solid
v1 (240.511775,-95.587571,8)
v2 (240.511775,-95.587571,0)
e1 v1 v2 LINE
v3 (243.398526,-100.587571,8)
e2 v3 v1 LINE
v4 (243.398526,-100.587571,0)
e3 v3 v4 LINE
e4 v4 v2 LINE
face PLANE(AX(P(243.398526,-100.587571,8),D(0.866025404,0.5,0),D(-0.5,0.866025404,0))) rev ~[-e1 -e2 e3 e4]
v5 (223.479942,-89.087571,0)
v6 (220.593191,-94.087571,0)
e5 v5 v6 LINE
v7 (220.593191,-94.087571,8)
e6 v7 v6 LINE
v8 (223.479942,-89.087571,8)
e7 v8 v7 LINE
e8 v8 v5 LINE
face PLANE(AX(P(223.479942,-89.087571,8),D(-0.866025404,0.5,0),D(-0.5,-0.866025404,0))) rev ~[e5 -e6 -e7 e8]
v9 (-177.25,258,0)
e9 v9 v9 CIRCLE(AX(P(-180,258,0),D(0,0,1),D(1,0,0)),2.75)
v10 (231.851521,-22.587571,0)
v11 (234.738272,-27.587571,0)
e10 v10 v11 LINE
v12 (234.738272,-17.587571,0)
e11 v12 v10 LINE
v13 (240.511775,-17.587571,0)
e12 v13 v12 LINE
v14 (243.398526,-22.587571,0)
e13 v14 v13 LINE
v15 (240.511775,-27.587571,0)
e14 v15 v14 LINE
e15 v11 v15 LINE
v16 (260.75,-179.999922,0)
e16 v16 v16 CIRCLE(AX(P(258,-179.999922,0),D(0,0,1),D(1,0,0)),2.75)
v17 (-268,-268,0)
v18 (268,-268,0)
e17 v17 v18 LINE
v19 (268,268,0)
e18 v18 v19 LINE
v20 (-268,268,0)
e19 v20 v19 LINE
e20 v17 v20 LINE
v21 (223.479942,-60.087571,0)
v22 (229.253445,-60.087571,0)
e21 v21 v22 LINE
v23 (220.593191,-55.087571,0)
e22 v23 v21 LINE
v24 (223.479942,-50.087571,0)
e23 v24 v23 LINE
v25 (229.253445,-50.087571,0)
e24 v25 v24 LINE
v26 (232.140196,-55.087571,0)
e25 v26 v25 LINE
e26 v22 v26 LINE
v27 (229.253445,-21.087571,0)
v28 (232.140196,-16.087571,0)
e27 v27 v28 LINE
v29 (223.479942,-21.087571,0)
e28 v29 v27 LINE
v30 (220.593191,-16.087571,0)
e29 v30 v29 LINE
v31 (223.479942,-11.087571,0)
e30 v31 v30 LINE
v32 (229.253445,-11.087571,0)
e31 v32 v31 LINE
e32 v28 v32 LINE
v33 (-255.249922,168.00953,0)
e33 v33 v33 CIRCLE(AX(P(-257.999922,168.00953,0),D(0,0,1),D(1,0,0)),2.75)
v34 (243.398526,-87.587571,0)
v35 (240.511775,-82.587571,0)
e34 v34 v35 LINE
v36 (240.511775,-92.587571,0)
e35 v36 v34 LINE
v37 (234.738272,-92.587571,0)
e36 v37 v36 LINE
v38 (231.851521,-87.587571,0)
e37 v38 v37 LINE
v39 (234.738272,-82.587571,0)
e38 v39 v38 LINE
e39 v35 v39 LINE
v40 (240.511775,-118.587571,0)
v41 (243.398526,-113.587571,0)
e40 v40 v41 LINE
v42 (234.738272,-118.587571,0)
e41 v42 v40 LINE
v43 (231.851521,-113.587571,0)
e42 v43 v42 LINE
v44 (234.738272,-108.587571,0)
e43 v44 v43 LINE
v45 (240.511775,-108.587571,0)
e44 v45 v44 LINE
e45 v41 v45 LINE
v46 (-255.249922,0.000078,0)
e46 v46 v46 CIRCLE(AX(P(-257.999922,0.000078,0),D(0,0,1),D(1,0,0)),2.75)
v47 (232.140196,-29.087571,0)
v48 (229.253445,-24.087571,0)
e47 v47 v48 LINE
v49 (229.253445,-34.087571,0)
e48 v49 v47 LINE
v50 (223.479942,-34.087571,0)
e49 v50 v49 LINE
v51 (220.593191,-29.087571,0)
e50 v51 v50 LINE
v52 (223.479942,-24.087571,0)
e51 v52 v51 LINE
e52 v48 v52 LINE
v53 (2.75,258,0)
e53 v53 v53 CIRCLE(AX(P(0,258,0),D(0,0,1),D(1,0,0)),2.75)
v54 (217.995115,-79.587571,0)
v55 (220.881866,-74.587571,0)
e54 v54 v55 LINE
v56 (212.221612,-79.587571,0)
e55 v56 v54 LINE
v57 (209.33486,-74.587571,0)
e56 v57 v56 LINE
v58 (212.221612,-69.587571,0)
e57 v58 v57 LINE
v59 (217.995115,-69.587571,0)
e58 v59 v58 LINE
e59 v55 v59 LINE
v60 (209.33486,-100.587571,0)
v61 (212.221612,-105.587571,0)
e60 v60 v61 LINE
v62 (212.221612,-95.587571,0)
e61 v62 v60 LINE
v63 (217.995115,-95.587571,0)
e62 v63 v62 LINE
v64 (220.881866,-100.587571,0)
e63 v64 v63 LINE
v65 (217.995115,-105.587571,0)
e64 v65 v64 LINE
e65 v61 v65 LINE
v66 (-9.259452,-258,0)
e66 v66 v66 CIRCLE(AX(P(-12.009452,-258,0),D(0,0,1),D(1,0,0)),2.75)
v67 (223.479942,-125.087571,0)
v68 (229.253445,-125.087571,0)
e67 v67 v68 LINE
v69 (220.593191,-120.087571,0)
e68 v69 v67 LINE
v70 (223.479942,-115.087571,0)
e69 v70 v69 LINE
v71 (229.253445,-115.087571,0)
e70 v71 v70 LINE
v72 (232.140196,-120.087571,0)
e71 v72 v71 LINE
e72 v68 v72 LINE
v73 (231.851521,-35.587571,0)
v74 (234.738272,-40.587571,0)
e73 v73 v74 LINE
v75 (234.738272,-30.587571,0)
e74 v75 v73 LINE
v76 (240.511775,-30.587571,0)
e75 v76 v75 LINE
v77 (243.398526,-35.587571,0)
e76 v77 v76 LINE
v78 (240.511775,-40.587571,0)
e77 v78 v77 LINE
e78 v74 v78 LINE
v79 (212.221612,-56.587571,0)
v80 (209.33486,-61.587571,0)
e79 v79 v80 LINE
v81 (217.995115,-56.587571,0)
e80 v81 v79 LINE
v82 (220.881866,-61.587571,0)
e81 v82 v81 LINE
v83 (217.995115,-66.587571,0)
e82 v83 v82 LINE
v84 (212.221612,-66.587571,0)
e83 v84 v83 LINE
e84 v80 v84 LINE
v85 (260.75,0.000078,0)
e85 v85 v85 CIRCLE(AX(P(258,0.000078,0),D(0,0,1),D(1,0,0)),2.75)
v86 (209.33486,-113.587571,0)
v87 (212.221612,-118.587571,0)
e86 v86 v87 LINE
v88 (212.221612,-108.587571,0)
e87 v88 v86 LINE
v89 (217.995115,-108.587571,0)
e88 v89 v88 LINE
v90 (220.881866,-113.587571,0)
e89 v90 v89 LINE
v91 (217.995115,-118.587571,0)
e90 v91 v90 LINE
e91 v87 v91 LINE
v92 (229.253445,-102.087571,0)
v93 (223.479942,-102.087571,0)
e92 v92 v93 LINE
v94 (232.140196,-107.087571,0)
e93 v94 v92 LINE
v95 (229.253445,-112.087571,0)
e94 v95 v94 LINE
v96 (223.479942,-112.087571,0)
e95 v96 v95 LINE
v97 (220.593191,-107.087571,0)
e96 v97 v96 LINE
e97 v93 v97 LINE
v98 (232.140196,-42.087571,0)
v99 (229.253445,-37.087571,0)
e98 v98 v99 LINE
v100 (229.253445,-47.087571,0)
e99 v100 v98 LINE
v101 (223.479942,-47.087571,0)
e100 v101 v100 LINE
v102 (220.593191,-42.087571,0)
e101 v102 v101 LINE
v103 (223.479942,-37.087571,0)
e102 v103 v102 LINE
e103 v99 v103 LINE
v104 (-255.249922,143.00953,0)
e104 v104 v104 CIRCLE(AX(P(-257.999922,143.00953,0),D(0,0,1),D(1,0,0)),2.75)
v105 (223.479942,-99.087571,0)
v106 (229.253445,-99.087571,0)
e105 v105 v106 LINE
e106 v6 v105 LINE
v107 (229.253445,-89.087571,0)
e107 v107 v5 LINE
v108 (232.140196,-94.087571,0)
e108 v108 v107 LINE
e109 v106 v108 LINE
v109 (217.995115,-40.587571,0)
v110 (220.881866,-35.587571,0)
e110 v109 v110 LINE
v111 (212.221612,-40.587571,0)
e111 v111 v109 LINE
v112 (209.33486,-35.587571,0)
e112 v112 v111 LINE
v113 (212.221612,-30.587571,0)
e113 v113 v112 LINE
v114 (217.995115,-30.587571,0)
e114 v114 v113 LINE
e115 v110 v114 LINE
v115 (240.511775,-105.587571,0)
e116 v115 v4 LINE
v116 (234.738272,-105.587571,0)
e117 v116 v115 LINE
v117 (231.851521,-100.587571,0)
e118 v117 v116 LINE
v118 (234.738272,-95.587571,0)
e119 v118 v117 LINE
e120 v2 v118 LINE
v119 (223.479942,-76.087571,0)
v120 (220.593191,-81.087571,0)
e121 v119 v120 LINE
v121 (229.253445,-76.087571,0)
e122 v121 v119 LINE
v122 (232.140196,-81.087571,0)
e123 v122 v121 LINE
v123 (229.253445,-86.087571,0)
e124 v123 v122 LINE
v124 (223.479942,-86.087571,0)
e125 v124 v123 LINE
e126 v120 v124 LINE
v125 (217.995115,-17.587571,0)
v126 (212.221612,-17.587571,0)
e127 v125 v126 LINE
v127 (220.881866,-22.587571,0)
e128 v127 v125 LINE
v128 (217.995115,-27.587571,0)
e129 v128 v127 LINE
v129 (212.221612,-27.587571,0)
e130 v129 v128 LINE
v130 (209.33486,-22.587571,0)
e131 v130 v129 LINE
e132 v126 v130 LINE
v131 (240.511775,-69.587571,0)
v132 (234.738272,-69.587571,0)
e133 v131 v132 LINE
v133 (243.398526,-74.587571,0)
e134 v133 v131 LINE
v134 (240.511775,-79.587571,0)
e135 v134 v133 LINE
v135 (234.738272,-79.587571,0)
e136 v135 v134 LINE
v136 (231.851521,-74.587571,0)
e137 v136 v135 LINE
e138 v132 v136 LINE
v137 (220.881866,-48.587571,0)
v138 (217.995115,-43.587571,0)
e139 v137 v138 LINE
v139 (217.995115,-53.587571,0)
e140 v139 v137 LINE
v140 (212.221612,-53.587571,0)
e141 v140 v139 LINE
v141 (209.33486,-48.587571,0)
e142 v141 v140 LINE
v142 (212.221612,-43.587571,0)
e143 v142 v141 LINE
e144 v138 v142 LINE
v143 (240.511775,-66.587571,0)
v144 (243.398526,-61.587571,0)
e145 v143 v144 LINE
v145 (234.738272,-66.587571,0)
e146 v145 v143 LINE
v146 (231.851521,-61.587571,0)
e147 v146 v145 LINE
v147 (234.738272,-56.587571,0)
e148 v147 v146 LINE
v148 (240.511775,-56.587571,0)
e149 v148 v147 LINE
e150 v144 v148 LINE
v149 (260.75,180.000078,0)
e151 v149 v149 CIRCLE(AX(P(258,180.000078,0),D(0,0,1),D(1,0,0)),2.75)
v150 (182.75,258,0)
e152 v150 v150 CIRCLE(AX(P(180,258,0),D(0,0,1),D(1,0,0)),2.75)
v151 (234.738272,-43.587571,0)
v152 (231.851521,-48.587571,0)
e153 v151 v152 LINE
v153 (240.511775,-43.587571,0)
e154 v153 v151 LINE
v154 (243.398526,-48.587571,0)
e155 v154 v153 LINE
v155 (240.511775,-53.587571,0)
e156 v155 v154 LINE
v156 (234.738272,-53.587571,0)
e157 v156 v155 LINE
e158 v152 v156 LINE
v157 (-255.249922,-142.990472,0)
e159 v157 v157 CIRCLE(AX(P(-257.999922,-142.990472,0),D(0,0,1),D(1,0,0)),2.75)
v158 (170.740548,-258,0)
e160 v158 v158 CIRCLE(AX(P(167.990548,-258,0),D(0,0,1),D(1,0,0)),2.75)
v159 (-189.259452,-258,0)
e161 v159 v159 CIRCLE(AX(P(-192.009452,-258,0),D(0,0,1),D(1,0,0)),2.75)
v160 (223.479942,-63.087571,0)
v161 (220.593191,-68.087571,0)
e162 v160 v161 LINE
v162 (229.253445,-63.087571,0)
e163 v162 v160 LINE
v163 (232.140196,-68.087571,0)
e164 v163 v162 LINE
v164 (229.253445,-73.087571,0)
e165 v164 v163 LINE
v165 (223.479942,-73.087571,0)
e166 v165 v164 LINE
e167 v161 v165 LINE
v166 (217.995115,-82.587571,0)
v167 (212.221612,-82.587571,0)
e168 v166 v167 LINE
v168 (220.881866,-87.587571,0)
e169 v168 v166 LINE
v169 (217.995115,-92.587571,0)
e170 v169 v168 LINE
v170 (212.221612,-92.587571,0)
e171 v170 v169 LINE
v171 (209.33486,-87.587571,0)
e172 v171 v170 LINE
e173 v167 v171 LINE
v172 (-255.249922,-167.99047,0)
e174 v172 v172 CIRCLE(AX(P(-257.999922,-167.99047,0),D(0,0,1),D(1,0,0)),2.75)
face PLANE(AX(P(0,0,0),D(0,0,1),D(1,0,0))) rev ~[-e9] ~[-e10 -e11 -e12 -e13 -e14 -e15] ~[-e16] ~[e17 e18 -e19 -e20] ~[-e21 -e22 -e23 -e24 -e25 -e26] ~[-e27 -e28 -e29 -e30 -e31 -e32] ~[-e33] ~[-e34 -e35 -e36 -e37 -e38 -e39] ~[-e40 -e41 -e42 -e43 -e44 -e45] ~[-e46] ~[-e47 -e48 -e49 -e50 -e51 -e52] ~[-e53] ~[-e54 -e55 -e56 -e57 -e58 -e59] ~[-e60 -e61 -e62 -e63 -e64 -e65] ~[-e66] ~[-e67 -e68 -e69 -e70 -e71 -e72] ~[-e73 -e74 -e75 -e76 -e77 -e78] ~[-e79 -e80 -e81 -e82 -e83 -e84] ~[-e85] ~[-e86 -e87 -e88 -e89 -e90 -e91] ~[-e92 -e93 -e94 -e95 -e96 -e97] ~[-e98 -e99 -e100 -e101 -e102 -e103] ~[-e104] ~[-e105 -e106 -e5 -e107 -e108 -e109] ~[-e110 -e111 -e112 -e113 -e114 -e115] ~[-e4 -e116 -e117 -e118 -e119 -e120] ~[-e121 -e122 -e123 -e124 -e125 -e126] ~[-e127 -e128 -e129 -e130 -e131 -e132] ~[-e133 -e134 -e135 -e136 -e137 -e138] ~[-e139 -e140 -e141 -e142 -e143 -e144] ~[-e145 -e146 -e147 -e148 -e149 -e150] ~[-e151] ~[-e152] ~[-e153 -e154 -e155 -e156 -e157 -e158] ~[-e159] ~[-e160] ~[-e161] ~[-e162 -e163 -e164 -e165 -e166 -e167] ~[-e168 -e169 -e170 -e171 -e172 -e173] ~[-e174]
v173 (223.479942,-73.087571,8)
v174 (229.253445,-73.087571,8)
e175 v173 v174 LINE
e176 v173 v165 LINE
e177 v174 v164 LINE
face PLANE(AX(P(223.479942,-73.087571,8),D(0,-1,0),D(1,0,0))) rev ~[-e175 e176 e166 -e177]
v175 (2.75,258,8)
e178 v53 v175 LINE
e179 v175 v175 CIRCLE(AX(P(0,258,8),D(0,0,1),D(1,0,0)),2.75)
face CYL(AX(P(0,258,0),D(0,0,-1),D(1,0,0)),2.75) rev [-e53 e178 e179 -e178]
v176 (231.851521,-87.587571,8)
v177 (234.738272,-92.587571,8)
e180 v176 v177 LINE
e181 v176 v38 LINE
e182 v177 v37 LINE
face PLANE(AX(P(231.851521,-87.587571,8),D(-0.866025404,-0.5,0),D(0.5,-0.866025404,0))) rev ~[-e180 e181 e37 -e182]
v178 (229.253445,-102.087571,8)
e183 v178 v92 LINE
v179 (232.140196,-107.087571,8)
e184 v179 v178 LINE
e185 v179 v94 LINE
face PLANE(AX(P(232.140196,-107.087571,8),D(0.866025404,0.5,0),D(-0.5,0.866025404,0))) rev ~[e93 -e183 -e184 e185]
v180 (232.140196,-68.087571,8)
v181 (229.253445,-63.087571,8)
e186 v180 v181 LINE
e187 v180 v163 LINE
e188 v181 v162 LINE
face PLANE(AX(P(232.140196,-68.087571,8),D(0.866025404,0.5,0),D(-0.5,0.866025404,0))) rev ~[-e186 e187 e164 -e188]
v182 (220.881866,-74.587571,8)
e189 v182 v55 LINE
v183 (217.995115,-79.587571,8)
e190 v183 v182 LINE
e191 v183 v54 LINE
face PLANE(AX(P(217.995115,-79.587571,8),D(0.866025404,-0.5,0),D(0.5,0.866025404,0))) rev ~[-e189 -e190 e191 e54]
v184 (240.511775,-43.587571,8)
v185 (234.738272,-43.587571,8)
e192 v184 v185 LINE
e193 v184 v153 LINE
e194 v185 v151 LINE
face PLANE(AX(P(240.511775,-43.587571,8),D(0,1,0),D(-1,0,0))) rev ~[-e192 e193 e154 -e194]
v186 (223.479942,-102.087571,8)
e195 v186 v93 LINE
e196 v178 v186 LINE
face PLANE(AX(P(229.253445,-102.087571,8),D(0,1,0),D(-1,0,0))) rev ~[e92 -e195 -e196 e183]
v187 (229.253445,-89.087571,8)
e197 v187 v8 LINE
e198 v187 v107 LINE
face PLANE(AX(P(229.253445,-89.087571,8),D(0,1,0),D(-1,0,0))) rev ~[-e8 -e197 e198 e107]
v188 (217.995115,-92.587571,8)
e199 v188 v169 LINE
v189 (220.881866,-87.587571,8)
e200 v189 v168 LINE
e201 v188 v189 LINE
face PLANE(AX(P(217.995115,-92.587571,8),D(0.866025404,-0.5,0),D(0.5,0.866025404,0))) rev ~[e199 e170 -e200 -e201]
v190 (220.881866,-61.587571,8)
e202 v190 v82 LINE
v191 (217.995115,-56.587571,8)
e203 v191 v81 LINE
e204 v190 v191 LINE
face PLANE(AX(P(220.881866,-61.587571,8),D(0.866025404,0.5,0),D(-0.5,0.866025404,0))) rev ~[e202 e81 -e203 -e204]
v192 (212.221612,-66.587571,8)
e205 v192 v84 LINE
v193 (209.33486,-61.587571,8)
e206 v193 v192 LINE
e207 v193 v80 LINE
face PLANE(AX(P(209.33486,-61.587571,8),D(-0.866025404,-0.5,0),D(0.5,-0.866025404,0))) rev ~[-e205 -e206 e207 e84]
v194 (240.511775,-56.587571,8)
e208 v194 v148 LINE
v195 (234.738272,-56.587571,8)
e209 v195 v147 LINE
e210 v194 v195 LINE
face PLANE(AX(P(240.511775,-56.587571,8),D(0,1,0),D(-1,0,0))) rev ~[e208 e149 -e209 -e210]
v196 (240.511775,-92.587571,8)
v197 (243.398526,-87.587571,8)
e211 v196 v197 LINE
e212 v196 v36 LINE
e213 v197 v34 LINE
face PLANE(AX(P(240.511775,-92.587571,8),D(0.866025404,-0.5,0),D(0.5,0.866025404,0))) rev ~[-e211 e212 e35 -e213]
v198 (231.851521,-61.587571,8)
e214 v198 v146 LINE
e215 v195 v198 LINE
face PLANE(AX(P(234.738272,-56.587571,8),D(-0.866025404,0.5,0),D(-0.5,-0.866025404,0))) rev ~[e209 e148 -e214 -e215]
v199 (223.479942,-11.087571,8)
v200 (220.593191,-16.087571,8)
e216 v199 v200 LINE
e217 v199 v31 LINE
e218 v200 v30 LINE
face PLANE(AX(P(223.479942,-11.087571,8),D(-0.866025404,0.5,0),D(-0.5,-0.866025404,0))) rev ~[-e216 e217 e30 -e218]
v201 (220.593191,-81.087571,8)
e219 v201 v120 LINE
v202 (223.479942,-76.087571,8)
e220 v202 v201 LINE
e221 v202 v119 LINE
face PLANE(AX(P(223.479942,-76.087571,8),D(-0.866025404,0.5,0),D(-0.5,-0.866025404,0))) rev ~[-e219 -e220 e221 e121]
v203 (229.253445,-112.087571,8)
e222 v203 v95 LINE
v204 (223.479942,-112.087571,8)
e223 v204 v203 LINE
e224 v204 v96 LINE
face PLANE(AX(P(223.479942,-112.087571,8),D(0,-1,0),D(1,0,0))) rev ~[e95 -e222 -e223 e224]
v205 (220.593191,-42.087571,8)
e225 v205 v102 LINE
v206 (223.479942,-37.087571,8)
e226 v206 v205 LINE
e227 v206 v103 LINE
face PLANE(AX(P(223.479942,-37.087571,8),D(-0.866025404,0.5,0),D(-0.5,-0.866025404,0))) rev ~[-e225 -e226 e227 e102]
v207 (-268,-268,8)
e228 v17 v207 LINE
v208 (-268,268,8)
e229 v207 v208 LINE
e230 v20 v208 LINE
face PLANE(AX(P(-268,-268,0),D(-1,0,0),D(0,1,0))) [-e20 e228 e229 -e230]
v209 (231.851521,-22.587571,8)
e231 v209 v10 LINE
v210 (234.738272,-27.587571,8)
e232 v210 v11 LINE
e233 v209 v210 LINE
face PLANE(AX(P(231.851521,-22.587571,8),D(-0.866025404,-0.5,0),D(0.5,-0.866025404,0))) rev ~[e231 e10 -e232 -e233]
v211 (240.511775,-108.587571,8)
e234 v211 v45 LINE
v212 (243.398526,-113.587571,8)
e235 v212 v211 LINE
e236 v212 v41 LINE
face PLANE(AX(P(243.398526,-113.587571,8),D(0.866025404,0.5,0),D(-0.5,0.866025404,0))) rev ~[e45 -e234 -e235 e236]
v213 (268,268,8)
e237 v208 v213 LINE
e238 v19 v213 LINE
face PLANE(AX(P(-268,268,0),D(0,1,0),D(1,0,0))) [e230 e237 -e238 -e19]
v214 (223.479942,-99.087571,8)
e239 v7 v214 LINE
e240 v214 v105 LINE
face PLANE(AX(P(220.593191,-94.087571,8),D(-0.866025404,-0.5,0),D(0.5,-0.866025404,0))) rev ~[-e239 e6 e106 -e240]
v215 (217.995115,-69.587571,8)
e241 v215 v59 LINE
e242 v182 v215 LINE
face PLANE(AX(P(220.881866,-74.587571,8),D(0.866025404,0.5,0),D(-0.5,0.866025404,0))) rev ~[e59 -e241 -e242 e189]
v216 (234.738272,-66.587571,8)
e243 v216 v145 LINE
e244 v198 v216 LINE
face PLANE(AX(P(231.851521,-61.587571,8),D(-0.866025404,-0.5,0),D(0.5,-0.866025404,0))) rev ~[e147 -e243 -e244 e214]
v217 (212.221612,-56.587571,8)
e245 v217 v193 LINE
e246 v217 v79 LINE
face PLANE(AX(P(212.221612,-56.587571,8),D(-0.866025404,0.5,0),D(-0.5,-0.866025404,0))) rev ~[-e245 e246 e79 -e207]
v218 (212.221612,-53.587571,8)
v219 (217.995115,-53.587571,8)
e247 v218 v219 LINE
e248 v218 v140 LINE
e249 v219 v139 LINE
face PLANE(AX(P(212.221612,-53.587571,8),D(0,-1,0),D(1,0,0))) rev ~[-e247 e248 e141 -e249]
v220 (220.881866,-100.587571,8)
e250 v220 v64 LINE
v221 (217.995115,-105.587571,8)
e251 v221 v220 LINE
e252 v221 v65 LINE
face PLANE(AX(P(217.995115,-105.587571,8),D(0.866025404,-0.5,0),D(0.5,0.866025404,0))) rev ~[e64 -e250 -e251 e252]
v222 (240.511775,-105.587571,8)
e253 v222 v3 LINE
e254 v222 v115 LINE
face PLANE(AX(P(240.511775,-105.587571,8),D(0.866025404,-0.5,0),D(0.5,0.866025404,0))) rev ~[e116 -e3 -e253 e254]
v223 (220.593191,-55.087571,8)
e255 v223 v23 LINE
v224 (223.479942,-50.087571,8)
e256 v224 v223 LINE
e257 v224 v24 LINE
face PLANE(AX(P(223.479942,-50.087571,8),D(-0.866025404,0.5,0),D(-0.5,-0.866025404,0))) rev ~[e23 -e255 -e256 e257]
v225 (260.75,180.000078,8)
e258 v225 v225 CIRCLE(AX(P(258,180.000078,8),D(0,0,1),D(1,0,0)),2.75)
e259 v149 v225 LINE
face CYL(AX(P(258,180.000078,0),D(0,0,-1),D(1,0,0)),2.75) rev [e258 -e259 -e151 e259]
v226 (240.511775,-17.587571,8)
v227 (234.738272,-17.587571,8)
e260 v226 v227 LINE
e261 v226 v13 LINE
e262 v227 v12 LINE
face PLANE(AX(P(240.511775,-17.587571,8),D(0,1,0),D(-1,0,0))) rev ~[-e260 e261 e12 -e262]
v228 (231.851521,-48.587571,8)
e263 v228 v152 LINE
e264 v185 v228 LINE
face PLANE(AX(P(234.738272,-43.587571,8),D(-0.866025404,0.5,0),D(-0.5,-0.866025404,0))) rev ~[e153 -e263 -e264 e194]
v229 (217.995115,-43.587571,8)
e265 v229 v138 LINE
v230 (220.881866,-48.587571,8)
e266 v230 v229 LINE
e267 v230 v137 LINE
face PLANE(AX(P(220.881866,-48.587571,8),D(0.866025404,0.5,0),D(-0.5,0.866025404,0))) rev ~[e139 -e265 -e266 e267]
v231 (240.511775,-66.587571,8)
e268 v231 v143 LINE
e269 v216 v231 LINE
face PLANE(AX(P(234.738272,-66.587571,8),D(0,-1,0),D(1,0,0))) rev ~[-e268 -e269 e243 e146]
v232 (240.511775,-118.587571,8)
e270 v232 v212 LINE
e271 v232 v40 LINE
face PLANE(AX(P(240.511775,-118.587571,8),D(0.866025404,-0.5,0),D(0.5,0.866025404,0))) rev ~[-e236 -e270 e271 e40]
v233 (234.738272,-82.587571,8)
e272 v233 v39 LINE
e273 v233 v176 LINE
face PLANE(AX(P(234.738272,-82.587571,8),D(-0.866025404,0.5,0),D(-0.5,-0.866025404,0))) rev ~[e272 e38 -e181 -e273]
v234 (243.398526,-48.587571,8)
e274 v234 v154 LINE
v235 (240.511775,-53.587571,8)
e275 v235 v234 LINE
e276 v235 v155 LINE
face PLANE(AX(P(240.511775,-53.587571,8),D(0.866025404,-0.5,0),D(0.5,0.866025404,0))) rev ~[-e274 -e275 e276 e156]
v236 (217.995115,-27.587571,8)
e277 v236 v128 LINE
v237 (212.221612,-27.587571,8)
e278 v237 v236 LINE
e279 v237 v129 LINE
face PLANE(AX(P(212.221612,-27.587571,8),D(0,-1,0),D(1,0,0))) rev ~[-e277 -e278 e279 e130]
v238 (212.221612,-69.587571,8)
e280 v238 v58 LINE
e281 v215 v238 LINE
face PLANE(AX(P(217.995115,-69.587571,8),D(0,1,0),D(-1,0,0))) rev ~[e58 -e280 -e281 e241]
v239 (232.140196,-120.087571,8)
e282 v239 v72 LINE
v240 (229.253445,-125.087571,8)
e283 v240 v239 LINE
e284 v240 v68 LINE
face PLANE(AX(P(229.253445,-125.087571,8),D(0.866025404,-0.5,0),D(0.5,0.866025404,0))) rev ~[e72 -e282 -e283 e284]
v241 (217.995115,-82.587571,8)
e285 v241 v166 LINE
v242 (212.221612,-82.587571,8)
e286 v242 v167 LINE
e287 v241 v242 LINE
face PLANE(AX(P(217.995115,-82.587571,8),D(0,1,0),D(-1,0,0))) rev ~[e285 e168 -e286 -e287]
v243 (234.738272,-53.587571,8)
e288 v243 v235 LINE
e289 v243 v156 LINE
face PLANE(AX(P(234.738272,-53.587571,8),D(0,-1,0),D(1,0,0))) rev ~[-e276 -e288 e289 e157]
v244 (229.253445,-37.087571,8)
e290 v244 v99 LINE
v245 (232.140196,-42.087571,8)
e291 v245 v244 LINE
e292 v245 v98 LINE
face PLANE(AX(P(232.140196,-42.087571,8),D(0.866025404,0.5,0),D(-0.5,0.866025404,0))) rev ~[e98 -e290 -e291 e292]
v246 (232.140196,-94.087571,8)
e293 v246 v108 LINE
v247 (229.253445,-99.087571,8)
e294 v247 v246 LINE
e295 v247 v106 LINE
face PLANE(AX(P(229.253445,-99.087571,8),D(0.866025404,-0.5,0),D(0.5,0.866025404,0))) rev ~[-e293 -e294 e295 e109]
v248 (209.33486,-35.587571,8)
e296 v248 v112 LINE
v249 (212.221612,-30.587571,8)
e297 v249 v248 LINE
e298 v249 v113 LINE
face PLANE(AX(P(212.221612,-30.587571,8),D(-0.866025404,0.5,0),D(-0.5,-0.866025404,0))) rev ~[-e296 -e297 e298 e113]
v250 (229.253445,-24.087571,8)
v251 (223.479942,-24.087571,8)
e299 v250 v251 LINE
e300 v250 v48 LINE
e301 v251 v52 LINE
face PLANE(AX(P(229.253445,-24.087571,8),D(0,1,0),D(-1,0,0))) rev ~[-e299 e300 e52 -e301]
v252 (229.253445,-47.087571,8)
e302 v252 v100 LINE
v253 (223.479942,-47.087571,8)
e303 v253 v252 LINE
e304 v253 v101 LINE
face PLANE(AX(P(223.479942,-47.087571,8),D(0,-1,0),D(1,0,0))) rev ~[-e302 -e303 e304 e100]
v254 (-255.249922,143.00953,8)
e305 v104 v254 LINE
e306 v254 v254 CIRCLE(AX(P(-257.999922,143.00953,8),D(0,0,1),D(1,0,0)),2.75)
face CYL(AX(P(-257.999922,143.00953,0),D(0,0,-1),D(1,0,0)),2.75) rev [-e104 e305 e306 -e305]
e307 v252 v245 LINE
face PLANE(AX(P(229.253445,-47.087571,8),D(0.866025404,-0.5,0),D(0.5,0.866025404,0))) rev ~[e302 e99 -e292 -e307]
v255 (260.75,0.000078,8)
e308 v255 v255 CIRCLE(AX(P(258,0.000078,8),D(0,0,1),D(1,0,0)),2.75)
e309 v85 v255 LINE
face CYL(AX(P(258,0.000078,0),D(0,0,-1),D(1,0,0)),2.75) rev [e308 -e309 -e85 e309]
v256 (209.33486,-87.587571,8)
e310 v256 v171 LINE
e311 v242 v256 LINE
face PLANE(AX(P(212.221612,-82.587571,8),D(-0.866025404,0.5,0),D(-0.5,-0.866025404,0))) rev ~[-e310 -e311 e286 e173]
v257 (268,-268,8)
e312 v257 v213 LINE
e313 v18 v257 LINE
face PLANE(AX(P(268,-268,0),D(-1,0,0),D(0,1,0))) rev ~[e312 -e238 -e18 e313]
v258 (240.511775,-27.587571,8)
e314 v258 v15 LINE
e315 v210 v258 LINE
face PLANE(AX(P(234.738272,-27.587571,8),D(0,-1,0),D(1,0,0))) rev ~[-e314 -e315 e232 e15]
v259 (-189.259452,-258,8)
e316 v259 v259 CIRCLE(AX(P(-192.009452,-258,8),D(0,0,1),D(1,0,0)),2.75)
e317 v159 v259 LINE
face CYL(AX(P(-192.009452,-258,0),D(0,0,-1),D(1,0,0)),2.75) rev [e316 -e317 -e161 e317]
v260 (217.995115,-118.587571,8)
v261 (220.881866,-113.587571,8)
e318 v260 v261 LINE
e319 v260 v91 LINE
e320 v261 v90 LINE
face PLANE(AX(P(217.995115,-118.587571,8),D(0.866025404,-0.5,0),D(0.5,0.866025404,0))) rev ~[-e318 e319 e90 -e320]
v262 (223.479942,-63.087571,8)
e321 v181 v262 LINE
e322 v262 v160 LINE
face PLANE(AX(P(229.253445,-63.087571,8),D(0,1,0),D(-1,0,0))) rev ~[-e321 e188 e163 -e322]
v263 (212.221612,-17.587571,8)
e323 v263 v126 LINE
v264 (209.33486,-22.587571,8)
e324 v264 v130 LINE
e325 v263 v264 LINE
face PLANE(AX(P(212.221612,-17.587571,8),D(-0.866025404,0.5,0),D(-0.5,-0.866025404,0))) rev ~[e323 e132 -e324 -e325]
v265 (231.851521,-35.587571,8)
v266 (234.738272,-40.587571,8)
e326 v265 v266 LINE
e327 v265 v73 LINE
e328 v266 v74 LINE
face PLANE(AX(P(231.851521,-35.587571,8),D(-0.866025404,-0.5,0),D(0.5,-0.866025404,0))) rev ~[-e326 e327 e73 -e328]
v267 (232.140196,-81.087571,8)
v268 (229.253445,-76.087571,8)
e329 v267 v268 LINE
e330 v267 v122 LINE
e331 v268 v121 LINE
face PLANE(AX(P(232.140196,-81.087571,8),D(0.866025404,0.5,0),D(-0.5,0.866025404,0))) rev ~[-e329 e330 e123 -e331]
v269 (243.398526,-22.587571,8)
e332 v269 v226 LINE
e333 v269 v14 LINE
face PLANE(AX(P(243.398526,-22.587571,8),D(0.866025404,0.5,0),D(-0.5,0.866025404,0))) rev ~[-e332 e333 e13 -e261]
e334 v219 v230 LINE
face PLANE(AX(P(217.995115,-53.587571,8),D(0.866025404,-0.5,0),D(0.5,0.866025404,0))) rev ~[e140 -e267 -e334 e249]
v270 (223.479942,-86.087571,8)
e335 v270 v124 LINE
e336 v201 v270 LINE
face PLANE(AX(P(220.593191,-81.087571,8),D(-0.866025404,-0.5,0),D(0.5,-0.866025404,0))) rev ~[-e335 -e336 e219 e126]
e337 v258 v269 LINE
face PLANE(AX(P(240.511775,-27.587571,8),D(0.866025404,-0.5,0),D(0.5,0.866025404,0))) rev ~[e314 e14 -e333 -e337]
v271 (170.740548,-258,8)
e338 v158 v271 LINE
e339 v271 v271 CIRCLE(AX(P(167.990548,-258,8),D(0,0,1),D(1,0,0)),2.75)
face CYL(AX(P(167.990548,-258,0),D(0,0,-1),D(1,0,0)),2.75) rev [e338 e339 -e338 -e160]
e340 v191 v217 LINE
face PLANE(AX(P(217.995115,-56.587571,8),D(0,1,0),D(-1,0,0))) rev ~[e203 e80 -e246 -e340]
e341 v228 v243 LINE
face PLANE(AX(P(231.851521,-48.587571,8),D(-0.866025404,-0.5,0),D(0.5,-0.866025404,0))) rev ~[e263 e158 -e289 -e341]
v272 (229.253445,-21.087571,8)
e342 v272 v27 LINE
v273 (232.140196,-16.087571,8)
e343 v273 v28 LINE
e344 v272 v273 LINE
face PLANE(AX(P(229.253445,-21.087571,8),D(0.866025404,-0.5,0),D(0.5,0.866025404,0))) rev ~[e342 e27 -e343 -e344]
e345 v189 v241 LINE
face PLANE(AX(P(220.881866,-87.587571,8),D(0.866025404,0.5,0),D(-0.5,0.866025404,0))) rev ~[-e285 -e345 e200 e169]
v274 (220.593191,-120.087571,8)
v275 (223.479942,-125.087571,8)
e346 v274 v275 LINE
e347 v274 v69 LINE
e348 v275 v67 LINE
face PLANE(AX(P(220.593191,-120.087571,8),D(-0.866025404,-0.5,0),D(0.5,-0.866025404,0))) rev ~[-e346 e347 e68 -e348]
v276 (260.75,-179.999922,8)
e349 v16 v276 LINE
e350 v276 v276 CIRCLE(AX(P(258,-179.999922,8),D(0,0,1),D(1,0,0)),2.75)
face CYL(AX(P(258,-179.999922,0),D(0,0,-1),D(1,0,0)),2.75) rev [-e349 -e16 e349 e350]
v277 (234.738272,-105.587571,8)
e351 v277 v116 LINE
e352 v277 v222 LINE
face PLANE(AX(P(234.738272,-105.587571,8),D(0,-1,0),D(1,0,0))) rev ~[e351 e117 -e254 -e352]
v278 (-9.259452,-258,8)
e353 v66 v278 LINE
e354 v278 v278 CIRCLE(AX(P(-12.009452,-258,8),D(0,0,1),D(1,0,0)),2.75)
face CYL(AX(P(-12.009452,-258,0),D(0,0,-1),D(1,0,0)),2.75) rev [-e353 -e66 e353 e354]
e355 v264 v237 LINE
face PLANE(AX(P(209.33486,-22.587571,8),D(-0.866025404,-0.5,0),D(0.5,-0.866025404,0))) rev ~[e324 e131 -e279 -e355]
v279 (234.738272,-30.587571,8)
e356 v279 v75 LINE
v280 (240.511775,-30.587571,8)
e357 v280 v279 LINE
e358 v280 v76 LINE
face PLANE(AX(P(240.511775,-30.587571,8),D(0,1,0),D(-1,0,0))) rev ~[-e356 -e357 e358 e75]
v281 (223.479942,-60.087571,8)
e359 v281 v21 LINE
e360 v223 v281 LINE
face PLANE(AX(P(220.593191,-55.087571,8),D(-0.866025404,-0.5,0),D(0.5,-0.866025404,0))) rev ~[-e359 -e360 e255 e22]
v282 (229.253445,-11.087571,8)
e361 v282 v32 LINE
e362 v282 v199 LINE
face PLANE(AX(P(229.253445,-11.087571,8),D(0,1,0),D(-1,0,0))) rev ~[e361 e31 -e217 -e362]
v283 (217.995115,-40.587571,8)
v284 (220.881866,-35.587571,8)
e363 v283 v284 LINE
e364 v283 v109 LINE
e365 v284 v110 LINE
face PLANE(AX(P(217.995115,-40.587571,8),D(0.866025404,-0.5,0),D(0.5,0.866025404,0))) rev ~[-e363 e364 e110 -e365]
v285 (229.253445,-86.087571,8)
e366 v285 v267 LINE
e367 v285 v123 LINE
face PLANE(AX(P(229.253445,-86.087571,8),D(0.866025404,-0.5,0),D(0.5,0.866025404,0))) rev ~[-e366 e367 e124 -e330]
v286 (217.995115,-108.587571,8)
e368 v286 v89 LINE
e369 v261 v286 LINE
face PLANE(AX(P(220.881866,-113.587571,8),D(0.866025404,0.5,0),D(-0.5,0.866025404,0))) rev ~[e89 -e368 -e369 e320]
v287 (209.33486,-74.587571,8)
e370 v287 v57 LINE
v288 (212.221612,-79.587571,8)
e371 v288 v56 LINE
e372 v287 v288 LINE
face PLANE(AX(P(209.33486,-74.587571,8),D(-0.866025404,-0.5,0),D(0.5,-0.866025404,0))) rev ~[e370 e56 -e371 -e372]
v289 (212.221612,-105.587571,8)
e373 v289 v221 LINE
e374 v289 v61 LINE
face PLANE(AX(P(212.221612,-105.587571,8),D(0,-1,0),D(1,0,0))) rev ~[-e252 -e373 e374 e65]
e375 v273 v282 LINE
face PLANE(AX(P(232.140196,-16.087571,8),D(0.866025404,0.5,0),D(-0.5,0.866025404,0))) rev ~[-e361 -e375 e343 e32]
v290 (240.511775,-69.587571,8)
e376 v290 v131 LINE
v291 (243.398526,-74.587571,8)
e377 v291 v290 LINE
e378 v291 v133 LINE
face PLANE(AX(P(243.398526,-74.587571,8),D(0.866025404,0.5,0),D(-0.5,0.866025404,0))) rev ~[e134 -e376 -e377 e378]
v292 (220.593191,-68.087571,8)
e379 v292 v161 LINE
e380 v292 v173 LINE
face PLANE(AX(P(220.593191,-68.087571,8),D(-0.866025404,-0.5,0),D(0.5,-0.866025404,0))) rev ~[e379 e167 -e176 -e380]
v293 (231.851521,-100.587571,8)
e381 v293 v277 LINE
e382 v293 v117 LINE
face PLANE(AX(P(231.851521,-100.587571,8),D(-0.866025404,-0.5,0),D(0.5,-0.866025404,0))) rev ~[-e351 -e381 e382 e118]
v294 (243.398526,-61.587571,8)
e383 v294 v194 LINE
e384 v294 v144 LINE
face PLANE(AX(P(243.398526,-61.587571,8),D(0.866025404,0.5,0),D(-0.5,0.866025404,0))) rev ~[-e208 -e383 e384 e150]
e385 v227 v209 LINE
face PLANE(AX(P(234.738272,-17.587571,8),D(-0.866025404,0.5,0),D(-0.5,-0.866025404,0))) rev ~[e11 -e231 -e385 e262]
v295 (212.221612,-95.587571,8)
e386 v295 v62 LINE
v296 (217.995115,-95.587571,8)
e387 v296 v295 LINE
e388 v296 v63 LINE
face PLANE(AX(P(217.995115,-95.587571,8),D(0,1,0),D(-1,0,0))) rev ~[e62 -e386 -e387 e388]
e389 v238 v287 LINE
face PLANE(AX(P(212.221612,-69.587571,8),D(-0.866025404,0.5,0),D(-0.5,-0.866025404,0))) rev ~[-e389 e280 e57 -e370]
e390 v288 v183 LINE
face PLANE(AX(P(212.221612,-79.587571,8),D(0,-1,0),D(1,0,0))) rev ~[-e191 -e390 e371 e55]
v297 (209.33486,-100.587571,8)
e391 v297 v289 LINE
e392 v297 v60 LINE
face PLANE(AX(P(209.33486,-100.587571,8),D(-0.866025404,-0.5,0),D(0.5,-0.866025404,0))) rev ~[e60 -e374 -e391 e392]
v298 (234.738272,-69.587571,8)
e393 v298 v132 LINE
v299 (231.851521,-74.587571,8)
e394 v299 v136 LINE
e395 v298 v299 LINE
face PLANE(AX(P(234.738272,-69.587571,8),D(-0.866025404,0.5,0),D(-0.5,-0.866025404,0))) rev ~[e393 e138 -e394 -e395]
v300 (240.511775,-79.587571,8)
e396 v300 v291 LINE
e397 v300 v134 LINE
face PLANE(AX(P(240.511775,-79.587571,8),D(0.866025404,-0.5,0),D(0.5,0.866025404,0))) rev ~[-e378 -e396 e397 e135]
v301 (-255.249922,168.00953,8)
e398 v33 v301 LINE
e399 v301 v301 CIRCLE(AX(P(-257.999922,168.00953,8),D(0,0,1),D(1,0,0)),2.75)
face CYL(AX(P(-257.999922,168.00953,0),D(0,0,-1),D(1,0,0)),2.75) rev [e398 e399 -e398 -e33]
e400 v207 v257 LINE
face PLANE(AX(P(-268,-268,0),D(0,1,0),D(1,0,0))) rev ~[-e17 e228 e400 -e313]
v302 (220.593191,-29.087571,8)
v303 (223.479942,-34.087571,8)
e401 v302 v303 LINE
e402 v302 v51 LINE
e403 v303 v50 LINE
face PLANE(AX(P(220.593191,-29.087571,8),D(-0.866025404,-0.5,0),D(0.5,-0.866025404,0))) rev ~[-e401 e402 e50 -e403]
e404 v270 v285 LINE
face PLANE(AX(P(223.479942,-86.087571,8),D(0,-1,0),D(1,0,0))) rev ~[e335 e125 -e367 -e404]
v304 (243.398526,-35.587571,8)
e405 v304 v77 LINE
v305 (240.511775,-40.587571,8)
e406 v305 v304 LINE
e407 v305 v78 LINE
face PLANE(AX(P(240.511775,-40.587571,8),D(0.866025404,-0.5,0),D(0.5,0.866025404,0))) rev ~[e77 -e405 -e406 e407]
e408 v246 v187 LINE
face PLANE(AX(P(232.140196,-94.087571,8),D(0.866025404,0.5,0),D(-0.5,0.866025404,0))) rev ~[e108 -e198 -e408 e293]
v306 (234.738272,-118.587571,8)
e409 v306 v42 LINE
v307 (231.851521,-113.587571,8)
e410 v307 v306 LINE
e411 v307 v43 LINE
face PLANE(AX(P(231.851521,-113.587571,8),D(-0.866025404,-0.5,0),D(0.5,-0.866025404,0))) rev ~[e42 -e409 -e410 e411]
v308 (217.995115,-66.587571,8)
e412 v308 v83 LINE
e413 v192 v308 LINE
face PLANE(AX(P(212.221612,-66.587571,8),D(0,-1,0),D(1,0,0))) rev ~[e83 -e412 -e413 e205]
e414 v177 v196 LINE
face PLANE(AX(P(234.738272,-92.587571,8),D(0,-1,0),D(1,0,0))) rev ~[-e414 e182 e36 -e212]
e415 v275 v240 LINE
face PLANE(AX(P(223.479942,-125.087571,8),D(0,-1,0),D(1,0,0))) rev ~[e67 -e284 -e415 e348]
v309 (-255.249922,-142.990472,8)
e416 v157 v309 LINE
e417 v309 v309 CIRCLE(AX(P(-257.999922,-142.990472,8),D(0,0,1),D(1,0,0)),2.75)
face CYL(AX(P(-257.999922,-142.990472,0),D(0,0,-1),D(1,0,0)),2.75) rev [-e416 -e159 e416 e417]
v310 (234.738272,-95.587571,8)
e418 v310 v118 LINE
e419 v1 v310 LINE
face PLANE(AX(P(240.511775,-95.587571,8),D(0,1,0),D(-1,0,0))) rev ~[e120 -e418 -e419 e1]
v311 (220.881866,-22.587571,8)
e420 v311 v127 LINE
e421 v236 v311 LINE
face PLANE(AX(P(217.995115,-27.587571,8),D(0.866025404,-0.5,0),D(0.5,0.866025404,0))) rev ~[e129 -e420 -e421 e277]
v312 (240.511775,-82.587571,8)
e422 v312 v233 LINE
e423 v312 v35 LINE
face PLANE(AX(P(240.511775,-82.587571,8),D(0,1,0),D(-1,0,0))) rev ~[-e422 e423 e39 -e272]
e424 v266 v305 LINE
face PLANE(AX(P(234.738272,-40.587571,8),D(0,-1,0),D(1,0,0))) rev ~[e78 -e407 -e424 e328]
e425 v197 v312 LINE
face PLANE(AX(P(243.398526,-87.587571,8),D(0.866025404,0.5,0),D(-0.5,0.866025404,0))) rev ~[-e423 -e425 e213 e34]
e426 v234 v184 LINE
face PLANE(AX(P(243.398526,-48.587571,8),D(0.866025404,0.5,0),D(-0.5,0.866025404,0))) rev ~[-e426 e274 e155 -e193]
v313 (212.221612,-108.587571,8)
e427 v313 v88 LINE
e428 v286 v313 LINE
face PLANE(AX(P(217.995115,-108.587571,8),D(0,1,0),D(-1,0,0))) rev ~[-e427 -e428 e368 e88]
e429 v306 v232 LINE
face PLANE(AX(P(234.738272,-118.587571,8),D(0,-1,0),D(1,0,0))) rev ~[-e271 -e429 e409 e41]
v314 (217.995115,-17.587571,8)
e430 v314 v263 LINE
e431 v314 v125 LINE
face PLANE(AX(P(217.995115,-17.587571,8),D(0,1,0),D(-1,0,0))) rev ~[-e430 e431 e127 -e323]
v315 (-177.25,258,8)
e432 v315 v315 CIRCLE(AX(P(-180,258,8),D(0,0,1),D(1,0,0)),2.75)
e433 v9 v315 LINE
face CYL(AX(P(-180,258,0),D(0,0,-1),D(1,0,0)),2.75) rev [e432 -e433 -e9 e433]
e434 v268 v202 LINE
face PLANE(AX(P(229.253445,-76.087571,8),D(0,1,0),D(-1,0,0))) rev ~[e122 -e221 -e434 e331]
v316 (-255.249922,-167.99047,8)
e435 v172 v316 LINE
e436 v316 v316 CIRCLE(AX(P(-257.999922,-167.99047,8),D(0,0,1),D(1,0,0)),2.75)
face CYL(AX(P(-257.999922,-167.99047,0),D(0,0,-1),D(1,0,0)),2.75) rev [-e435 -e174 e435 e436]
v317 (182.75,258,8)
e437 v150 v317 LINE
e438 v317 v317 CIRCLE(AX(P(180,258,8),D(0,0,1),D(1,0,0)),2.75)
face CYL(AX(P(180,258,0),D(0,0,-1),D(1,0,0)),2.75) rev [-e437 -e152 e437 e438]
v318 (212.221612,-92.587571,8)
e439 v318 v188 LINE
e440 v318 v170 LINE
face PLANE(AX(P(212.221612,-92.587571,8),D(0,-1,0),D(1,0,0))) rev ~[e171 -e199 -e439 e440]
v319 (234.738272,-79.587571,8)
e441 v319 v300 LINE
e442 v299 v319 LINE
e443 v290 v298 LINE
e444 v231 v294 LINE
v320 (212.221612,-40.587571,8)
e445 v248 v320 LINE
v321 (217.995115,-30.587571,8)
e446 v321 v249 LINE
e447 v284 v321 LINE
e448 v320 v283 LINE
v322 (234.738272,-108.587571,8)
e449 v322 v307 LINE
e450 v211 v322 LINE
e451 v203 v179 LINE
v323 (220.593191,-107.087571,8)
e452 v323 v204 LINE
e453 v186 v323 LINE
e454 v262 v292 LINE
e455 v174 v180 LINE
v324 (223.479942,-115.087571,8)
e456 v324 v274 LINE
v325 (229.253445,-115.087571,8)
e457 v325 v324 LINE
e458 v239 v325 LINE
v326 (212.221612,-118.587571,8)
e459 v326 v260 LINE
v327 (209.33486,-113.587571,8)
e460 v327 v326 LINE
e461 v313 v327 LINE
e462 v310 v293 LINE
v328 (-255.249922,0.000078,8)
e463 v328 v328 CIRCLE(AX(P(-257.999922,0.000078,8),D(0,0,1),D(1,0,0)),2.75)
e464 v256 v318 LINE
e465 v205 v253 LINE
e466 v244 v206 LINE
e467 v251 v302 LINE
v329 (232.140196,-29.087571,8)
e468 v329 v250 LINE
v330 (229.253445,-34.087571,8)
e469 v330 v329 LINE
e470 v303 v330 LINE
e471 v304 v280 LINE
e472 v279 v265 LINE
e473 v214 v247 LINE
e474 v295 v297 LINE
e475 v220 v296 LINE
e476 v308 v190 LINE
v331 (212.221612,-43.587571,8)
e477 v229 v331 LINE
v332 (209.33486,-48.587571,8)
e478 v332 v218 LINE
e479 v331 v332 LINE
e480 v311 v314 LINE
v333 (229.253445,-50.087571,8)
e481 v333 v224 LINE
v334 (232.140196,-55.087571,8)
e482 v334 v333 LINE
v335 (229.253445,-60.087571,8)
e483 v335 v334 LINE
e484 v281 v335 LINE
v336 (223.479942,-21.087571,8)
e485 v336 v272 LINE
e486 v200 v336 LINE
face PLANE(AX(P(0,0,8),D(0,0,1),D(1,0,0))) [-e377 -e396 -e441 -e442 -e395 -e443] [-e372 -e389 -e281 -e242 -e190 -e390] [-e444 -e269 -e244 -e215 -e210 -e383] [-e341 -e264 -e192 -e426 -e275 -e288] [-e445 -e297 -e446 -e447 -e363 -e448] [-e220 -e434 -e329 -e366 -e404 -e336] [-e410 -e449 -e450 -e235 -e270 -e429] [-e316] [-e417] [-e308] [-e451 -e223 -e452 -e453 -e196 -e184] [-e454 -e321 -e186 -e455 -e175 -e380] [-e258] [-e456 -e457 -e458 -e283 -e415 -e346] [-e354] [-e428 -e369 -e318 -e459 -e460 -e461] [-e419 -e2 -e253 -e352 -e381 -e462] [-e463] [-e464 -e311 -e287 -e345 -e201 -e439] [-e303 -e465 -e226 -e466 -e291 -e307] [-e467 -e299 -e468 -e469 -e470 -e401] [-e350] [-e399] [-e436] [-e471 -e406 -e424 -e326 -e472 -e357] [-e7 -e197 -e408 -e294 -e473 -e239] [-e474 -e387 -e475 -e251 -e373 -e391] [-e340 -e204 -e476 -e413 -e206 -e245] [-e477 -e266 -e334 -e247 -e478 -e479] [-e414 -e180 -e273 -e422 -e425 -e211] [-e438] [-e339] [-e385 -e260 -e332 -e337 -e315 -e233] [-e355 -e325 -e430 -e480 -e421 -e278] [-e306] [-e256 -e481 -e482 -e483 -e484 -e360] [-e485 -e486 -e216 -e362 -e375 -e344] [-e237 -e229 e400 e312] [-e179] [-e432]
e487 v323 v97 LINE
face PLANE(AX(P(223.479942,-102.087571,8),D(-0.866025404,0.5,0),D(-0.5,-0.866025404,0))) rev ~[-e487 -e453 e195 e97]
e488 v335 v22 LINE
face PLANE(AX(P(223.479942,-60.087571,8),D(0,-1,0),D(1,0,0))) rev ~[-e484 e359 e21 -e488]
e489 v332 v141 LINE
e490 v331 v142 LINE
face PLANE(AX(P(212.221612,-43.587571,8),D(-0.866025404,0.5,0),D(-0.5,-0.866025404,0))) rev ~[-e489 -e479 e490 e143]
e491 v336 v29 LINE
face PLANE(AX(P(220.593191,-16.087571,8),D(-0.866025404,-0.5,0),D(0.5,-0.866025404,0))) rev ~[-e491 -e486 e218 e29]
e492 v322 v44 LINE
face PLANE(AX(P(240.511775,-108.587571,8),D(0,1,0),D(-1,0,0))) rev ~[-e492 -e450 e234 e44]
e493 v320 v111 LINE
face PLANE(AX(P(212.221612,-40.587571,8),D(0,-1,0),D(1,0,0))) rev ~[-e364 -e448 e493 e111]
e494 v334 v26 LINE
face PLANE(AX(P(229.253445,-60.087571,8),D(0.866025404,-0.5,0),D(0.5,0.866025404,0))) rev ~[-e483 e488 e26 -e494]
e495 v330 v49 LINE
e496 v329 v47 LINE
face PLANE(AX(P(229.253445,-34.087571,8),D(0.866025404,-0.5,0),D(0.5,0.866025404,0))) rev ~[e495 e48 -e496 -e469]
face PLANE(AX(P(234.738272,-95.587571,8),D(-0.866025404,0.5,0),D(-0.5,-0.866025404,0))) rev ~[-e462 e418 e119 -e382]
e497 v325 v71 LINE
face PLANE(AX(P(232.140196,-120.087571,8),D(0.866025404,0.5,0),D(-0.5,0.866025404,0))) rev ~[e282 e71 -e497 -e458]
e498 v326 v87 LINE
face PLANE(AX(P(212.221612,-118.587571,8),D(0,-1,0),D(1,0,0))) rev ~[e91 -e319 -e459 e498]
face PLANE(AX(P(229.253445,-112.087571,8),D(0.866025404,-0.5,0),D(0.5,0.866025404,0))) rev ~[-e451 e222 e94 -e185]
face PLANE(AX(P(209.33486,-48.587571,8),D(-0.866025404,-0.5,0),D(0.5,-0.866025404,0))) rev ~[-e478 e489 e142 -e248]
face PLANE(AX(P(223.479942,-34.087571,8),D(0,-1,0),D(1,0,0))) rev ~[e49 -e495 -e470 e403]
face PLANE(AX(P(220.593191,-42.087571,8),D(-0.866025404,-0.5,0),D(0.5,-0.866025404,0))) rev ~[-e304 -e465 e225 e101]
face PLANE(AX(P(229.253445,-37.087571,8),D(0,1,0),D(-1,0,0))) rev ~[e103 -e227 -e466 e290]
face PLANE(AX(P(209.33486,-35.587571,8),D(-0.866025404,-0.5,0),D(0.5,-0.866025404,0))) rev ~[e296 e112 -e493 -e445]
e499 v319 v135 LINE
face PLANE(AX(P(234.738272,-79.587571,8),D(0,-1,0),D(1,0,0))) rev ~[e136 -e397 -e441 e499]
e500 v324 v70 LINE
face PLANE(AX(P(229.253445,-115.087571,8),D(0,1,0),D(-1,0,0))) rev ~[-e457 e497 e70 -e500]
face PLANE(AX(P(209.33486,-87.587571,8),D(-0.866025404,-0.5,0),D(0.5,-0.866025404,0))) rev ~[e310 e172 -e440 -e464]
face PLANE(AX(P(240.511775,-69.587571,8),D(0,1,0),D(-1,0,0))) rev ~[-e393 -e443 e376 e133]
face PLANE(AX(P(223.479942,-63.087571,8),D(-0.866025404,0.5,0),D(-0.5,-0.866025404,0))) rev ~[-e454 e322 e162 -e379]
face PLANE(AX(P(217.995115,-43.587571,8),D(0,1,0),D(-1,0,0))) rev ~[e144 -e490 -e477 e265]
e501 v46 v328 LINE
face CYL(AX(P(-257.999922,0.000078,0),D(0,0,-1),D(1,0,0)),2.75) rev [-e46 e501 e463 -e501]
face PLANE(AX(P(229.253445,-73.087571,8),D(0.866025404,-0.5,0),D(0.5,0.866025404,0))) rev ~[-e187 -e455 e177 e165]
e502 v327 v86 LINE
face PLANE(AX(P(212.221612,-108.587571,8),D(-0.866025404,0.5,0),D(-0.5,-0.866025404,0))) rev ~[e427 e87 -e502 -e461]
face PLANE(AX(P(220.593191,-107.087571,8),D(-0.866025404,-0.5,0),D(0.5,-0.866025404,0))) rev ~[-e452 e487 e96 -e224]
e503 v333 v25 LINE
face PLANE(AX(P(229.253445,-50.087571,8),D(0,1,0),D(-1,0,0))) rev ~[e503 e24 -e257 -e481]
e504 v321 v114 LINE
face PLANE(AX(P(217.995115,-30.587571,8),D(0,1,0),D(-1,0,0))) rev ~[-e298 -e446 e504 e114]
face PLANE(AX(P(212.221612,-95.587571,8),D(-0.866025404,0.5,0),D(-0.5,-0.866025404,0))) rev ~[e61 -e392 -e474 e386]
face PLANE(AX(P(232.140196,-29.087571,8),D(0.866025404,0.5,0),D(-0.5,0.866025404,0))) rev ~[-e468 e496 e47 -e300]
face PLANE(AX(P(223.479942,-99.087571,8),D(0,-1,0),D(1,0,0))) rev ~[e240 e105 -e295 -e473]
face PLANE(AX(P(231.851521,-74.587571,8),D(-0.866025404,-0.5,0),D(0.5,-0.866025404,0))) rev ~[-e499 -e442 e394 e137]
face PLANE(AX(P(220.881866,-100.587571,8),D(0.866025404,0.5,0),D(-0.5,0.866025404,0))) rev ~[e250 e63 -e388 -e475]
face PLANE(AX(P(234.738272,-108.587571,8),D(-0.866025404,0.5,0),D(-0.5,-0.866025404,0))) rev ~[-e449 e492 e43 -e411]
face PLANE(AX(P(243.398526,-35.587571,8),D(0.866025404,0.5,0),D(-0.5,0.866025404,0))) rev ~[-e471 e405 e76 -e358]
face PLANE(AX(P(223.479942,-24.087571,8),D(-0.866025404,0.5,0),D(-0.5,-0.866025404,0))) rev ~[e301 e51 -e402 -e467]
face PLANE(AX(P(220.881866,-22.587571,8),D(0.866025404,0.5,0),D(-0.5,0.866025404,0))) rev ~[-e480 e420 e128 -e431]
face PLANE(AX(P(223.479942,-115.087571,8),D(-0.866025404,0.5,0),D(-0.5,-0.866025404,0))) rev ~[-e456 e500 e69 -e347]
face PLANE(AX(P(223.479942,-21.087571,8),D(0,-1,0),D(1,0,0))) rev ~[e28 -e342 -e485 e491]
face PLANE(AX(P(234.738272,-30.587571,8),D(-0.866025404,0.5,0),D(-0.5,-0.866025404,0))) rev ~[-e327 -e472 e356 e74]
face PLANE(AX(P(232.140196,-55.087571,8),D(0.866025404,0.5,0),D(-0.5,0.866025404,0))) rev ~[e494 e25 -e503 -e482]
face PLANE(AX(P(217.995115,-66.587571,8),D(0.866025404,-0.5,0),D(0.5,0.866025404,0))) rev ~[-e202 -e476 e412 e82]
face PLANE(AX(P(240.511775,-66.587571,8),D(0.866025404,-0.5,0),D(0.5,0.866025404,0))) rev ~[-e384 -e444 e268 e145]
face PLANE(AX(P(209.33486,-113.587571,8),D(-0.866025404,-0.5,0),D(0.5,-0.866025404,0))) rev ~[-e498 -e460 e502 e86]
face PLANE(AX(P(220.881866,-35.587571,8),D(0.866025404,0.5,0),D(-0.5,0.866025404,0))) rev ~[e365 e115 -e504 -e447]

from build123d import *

# Parameters (mm, degrees)
SKETCH1_W           = 536
SKETCH1_H           = 536
SKETCH1_R           = 2.75
SKETCH1_R_2         = 2.749999922
SKETCH1_R_3         = 2.749999896
BOSS_EXTRUDE1_DEPTH = 8
CUT_EXTRUDE4_DEPTH  = 10


with BuildPart() as part:
    # Sketch1 → Boss-Extrude1 (new body)
    with BuildSketch(Plane.XY):
        Rectangle(SKETCH1_W, SKETCH1_H)
        with Locations((0, 258)):
            Circle(SKETCH1_R, mode=Mode.SUBTRACT)
        with Locations((-180, 258)):
            Circle(SKETCH1_R, mode=Mode.SUBTRACT)
        with Locations((180, 258)):
            Circle(SKETCH1_R, mode=Mode.SUBTRACT)
        with Locations((258, 7.8072e-05)):
            Circle(SKETCH1_R, mode=Mode.SUBTRACT)
        with Locations((258, 180.000078072)):
            Circle(SKETCH1_R, mode=Mode.SUBTRACT)
        with Locations((258, -179.999921928)):
            Circle(SKETCH1_R, mode=Mode.SUBTRACT)
        with Locations((-12.009451925, -258)):
            Circle(SKETCH1_R, mode=Mode.SUBTRACT)
        with Locations((167.990548075, -258)):
            Circle(SKETCH1_R, mode=Mode.SUBTRACT)
        with Locations((-192.009451925, -258)):
            Circle(SKETCH1_R, mode=Mode.SUBTRACT)
        with Locations((-257.999921928, 7.8072e-05)):
            Circle(SKETCH1_R, mode=Mode.SUBTRACT)
        with Locations((-257.999921928, -167.990470003)):
            Circle(SKETCH1_R, mode=Mode.SUBTRACT)
        with Locations((-257.999921928, 168.009529997)):
            Circle(SKETCH1_R, mode=Mode.SUBTRACT)
        with Locations((-257.999921928, 143.009529997)):
            Circle(SKETCH1_R_2, mode=Mode.SUBTRACT)
        with Locations((-257.999921928, -142.990471748)):
            Circle(SKETCH1_R_3, mode=Mode.SUBTRACT)
    extrude(amount=BOSS_EXTRUDE1_DEPTH)

    # Sketch3 → Cut-Extrude4 (cut)
    with BuildSketch(Plane.XY.offset(8)):
        Polygon((243.398526366, -22.587571342), (240.511775021, -17.587571342), (234.738272329, -17.587571342), (231.851520983, -22.587571342), (234.738272329, -27.587571342), (240.511775021, -27.587571342), align=None)
        Polygon((220.881865868, -22.587571342), (217.995114522, -17.587571342), (212.22161183, -17.587571342), (209.334860484, -22.587571342), (212.22161183, -27.587571342), (217.995114522, -27.587571342), align=None)
        Polygon((232.140196117, -29.087571342), (229.253444771, -24.087571342), (223.479942079, -24.087571342), (220.593190733, -29.087571342), (223.479942079, -34.087571342), (229.253444771, -34.087571342), align=None)
        Polygon((232.140196117, -16.087571342), (229.253444771, -11.087571342), (223.479942079, -11.087571342), (220.593190733, -16.087571342), (223.479942079, -21.087571342), (229.253444771, -21.087571342), align=None)
        Polygon((243.398526366, -35.587571342), (240.511775021, -30.587571342), (234.738272329, -30.587571342), (231.851520983, -35.587571342), (234.738272329, -40.587571342), (240.511775021, -40.587571342), align=None)
        Polygon((220.881865868, -35.587571342), (217.995114522, -30.587571342), (212.22161183, -30.587571342), (209.334860484, -35.587571342), (212.22161183, -40.587571342), (217.995114522, -40.587571342), align=None)
        Polygon((232.140196117, -42.087571342), (229.253444771, -37.087571342), (223.479942079, -37.087571342), (220.593190733, -42.087571342), (223.479942079, -47.087571342), (229.253444771, -47.087571342), align=None)
        Polygon((243.398526366, -48.587571342), (240.511775021, -43.587571342), (234.738272329, -43.587571342), (231.851520983, -48.587571342), (234.738272329, -53.587571342), (240.511775021, -53.587571342), align=None)
        Polygon((220.881865868, -48.587571342), (217.995114522, -43.587571342), (212.22161183, -43.587571342), (209.334860484, -48.587571342), (212.22161183, -53.587571342), (217.995114522, -53.587571342), align=None)
        Polygon((232.140196117, -55.087571342), (229.253444771, -50.087571342), (223.479942079, -50.087571342), (220.593190733, -55.087571342), (223.479942079, -60.087571342), (229.253444771, -60.087571342), align=None)
        Polygon((243.398526366, -61.587571342), (240.511775021, -56.587571342), (234.738272329, -56.587571342), (231.851520983, -61.587571342), (234.738272329, -66.587571342), (240.511775021, -66.587571342), align=None)
        Polygon((220.881865868, -61.587571342), (217.995114522, -56.587571342), (212.22161183, -56.587571342), (209.334860484, -61.587571342), (212.22161183, -66.587571342), (217.995114522, -66.587571342), align=None)
        Polygon((232.140196117, -68.087571342), (229.253444771, -63.087571342), (223.479942079, -63.087571342), (220.593190733, -68.087571342), (223.479942079, -73.087571342), (229.253444771, -73.087571342), align=None)
        Polygon((243.398526366, -74.587571342), (240.511775021, -69.587571342), (234.738272329, -69.587571342), (231.851520983, -74.587571342), (234.738272329, -79.587571342), (240.511775021, -79.587571342), align=None)
        Polygon((220.881865868, -74.587571342), (217.995114522, -69.587571342), (212.22161183, -69.587571342), (209.334860484, -74.587571342), (212.22161183, -79.587571342), (217.995114522, -79.587571342), align=None)
        Polygon((232.140196117, -81.087571342), (229.253444771, -76.087571342), (223.479942079, -76.087571342), (220.593190733, -81.087571342), (223.479942079, -86.087571342), (229.253444771, -86.087571342), align=None)
        Polygon((243.398526366, -87.587571342), (240.511775021, -82.587571342), (234.738272329, -82.587571342), (231.851520983, -87.587571342), (234.738272329, -92.587571342), (240.511775021, -92.587571342), align=None)
        Polygon((220.881865868, -87.587571342), (217.995114522, -82.587571342), (212.22161183, -82.587571342), (209.334860484, -87.587571342), (212.22161183, -92.587571342), (217.995114522, -92.587571342), align=None)
        Polygon((232.140196117, -94.087571342), (229.253444771, -89.087571342), (223.479942079, -89.087571342), (220.593190733, -94.087571342), (223.479942079, -99.087571342), (229.253444771, -99.087571342), align=None)
        Polygon((243.398526366, -100.587571342), (240.511775021, -95.587571342), (234.738272329, -95.587571342), (231.851520983, -100.587571342), (234.738272329, -105.587571342), (240.511775021, -105.587571342), align=None)
        Polygon((220.881865868, -100.587571342), (217.995114522, -95.587571342), (212.22161183, -95.587571342), (209.334860484, -100.587571342), (212.22161183, -105.587571342), (217.995114522, -105.587571342), align=None)
        Polygon((232.140196117, -107.087571342), (229.253444771, -102.087571342), (223.479942079, -102.087571342), (220.593190733, -107.087571342), (223.479942079, -112.087571342), (229.253444771, -112.087571342), align=None)
        Polygon((243.398526366, -113.587571342), (240.511775021, -108.587571342), (234.738272329, -108.587571342), (231.851520983, -113.587571342), (234.738272329, -118.587571342), (240.511775021, -118.587571342), align=None)
        Polygon((220.881865868, -113.587571342), (217.995114522, -108.587571342), (212.22161183, -108.587571342), (209.334860484, -113.587571342), (212.22161183, -118.587571342), (217.995114522, -118.587571342), align=None)
        Polygon((232.140196117, -120.087571342), (229.253444771, -115.087571342), (223.479942079, -115.087571342), (220.593190733, -120.087571342), (223.479942079, -125.087571342), (229.253444771, -125.087571342), align=None)
    extrude(amount=-CUT_EXTRUDE4_DEPTH, mode=Mode.SUBTRACT)


solid = part.part
